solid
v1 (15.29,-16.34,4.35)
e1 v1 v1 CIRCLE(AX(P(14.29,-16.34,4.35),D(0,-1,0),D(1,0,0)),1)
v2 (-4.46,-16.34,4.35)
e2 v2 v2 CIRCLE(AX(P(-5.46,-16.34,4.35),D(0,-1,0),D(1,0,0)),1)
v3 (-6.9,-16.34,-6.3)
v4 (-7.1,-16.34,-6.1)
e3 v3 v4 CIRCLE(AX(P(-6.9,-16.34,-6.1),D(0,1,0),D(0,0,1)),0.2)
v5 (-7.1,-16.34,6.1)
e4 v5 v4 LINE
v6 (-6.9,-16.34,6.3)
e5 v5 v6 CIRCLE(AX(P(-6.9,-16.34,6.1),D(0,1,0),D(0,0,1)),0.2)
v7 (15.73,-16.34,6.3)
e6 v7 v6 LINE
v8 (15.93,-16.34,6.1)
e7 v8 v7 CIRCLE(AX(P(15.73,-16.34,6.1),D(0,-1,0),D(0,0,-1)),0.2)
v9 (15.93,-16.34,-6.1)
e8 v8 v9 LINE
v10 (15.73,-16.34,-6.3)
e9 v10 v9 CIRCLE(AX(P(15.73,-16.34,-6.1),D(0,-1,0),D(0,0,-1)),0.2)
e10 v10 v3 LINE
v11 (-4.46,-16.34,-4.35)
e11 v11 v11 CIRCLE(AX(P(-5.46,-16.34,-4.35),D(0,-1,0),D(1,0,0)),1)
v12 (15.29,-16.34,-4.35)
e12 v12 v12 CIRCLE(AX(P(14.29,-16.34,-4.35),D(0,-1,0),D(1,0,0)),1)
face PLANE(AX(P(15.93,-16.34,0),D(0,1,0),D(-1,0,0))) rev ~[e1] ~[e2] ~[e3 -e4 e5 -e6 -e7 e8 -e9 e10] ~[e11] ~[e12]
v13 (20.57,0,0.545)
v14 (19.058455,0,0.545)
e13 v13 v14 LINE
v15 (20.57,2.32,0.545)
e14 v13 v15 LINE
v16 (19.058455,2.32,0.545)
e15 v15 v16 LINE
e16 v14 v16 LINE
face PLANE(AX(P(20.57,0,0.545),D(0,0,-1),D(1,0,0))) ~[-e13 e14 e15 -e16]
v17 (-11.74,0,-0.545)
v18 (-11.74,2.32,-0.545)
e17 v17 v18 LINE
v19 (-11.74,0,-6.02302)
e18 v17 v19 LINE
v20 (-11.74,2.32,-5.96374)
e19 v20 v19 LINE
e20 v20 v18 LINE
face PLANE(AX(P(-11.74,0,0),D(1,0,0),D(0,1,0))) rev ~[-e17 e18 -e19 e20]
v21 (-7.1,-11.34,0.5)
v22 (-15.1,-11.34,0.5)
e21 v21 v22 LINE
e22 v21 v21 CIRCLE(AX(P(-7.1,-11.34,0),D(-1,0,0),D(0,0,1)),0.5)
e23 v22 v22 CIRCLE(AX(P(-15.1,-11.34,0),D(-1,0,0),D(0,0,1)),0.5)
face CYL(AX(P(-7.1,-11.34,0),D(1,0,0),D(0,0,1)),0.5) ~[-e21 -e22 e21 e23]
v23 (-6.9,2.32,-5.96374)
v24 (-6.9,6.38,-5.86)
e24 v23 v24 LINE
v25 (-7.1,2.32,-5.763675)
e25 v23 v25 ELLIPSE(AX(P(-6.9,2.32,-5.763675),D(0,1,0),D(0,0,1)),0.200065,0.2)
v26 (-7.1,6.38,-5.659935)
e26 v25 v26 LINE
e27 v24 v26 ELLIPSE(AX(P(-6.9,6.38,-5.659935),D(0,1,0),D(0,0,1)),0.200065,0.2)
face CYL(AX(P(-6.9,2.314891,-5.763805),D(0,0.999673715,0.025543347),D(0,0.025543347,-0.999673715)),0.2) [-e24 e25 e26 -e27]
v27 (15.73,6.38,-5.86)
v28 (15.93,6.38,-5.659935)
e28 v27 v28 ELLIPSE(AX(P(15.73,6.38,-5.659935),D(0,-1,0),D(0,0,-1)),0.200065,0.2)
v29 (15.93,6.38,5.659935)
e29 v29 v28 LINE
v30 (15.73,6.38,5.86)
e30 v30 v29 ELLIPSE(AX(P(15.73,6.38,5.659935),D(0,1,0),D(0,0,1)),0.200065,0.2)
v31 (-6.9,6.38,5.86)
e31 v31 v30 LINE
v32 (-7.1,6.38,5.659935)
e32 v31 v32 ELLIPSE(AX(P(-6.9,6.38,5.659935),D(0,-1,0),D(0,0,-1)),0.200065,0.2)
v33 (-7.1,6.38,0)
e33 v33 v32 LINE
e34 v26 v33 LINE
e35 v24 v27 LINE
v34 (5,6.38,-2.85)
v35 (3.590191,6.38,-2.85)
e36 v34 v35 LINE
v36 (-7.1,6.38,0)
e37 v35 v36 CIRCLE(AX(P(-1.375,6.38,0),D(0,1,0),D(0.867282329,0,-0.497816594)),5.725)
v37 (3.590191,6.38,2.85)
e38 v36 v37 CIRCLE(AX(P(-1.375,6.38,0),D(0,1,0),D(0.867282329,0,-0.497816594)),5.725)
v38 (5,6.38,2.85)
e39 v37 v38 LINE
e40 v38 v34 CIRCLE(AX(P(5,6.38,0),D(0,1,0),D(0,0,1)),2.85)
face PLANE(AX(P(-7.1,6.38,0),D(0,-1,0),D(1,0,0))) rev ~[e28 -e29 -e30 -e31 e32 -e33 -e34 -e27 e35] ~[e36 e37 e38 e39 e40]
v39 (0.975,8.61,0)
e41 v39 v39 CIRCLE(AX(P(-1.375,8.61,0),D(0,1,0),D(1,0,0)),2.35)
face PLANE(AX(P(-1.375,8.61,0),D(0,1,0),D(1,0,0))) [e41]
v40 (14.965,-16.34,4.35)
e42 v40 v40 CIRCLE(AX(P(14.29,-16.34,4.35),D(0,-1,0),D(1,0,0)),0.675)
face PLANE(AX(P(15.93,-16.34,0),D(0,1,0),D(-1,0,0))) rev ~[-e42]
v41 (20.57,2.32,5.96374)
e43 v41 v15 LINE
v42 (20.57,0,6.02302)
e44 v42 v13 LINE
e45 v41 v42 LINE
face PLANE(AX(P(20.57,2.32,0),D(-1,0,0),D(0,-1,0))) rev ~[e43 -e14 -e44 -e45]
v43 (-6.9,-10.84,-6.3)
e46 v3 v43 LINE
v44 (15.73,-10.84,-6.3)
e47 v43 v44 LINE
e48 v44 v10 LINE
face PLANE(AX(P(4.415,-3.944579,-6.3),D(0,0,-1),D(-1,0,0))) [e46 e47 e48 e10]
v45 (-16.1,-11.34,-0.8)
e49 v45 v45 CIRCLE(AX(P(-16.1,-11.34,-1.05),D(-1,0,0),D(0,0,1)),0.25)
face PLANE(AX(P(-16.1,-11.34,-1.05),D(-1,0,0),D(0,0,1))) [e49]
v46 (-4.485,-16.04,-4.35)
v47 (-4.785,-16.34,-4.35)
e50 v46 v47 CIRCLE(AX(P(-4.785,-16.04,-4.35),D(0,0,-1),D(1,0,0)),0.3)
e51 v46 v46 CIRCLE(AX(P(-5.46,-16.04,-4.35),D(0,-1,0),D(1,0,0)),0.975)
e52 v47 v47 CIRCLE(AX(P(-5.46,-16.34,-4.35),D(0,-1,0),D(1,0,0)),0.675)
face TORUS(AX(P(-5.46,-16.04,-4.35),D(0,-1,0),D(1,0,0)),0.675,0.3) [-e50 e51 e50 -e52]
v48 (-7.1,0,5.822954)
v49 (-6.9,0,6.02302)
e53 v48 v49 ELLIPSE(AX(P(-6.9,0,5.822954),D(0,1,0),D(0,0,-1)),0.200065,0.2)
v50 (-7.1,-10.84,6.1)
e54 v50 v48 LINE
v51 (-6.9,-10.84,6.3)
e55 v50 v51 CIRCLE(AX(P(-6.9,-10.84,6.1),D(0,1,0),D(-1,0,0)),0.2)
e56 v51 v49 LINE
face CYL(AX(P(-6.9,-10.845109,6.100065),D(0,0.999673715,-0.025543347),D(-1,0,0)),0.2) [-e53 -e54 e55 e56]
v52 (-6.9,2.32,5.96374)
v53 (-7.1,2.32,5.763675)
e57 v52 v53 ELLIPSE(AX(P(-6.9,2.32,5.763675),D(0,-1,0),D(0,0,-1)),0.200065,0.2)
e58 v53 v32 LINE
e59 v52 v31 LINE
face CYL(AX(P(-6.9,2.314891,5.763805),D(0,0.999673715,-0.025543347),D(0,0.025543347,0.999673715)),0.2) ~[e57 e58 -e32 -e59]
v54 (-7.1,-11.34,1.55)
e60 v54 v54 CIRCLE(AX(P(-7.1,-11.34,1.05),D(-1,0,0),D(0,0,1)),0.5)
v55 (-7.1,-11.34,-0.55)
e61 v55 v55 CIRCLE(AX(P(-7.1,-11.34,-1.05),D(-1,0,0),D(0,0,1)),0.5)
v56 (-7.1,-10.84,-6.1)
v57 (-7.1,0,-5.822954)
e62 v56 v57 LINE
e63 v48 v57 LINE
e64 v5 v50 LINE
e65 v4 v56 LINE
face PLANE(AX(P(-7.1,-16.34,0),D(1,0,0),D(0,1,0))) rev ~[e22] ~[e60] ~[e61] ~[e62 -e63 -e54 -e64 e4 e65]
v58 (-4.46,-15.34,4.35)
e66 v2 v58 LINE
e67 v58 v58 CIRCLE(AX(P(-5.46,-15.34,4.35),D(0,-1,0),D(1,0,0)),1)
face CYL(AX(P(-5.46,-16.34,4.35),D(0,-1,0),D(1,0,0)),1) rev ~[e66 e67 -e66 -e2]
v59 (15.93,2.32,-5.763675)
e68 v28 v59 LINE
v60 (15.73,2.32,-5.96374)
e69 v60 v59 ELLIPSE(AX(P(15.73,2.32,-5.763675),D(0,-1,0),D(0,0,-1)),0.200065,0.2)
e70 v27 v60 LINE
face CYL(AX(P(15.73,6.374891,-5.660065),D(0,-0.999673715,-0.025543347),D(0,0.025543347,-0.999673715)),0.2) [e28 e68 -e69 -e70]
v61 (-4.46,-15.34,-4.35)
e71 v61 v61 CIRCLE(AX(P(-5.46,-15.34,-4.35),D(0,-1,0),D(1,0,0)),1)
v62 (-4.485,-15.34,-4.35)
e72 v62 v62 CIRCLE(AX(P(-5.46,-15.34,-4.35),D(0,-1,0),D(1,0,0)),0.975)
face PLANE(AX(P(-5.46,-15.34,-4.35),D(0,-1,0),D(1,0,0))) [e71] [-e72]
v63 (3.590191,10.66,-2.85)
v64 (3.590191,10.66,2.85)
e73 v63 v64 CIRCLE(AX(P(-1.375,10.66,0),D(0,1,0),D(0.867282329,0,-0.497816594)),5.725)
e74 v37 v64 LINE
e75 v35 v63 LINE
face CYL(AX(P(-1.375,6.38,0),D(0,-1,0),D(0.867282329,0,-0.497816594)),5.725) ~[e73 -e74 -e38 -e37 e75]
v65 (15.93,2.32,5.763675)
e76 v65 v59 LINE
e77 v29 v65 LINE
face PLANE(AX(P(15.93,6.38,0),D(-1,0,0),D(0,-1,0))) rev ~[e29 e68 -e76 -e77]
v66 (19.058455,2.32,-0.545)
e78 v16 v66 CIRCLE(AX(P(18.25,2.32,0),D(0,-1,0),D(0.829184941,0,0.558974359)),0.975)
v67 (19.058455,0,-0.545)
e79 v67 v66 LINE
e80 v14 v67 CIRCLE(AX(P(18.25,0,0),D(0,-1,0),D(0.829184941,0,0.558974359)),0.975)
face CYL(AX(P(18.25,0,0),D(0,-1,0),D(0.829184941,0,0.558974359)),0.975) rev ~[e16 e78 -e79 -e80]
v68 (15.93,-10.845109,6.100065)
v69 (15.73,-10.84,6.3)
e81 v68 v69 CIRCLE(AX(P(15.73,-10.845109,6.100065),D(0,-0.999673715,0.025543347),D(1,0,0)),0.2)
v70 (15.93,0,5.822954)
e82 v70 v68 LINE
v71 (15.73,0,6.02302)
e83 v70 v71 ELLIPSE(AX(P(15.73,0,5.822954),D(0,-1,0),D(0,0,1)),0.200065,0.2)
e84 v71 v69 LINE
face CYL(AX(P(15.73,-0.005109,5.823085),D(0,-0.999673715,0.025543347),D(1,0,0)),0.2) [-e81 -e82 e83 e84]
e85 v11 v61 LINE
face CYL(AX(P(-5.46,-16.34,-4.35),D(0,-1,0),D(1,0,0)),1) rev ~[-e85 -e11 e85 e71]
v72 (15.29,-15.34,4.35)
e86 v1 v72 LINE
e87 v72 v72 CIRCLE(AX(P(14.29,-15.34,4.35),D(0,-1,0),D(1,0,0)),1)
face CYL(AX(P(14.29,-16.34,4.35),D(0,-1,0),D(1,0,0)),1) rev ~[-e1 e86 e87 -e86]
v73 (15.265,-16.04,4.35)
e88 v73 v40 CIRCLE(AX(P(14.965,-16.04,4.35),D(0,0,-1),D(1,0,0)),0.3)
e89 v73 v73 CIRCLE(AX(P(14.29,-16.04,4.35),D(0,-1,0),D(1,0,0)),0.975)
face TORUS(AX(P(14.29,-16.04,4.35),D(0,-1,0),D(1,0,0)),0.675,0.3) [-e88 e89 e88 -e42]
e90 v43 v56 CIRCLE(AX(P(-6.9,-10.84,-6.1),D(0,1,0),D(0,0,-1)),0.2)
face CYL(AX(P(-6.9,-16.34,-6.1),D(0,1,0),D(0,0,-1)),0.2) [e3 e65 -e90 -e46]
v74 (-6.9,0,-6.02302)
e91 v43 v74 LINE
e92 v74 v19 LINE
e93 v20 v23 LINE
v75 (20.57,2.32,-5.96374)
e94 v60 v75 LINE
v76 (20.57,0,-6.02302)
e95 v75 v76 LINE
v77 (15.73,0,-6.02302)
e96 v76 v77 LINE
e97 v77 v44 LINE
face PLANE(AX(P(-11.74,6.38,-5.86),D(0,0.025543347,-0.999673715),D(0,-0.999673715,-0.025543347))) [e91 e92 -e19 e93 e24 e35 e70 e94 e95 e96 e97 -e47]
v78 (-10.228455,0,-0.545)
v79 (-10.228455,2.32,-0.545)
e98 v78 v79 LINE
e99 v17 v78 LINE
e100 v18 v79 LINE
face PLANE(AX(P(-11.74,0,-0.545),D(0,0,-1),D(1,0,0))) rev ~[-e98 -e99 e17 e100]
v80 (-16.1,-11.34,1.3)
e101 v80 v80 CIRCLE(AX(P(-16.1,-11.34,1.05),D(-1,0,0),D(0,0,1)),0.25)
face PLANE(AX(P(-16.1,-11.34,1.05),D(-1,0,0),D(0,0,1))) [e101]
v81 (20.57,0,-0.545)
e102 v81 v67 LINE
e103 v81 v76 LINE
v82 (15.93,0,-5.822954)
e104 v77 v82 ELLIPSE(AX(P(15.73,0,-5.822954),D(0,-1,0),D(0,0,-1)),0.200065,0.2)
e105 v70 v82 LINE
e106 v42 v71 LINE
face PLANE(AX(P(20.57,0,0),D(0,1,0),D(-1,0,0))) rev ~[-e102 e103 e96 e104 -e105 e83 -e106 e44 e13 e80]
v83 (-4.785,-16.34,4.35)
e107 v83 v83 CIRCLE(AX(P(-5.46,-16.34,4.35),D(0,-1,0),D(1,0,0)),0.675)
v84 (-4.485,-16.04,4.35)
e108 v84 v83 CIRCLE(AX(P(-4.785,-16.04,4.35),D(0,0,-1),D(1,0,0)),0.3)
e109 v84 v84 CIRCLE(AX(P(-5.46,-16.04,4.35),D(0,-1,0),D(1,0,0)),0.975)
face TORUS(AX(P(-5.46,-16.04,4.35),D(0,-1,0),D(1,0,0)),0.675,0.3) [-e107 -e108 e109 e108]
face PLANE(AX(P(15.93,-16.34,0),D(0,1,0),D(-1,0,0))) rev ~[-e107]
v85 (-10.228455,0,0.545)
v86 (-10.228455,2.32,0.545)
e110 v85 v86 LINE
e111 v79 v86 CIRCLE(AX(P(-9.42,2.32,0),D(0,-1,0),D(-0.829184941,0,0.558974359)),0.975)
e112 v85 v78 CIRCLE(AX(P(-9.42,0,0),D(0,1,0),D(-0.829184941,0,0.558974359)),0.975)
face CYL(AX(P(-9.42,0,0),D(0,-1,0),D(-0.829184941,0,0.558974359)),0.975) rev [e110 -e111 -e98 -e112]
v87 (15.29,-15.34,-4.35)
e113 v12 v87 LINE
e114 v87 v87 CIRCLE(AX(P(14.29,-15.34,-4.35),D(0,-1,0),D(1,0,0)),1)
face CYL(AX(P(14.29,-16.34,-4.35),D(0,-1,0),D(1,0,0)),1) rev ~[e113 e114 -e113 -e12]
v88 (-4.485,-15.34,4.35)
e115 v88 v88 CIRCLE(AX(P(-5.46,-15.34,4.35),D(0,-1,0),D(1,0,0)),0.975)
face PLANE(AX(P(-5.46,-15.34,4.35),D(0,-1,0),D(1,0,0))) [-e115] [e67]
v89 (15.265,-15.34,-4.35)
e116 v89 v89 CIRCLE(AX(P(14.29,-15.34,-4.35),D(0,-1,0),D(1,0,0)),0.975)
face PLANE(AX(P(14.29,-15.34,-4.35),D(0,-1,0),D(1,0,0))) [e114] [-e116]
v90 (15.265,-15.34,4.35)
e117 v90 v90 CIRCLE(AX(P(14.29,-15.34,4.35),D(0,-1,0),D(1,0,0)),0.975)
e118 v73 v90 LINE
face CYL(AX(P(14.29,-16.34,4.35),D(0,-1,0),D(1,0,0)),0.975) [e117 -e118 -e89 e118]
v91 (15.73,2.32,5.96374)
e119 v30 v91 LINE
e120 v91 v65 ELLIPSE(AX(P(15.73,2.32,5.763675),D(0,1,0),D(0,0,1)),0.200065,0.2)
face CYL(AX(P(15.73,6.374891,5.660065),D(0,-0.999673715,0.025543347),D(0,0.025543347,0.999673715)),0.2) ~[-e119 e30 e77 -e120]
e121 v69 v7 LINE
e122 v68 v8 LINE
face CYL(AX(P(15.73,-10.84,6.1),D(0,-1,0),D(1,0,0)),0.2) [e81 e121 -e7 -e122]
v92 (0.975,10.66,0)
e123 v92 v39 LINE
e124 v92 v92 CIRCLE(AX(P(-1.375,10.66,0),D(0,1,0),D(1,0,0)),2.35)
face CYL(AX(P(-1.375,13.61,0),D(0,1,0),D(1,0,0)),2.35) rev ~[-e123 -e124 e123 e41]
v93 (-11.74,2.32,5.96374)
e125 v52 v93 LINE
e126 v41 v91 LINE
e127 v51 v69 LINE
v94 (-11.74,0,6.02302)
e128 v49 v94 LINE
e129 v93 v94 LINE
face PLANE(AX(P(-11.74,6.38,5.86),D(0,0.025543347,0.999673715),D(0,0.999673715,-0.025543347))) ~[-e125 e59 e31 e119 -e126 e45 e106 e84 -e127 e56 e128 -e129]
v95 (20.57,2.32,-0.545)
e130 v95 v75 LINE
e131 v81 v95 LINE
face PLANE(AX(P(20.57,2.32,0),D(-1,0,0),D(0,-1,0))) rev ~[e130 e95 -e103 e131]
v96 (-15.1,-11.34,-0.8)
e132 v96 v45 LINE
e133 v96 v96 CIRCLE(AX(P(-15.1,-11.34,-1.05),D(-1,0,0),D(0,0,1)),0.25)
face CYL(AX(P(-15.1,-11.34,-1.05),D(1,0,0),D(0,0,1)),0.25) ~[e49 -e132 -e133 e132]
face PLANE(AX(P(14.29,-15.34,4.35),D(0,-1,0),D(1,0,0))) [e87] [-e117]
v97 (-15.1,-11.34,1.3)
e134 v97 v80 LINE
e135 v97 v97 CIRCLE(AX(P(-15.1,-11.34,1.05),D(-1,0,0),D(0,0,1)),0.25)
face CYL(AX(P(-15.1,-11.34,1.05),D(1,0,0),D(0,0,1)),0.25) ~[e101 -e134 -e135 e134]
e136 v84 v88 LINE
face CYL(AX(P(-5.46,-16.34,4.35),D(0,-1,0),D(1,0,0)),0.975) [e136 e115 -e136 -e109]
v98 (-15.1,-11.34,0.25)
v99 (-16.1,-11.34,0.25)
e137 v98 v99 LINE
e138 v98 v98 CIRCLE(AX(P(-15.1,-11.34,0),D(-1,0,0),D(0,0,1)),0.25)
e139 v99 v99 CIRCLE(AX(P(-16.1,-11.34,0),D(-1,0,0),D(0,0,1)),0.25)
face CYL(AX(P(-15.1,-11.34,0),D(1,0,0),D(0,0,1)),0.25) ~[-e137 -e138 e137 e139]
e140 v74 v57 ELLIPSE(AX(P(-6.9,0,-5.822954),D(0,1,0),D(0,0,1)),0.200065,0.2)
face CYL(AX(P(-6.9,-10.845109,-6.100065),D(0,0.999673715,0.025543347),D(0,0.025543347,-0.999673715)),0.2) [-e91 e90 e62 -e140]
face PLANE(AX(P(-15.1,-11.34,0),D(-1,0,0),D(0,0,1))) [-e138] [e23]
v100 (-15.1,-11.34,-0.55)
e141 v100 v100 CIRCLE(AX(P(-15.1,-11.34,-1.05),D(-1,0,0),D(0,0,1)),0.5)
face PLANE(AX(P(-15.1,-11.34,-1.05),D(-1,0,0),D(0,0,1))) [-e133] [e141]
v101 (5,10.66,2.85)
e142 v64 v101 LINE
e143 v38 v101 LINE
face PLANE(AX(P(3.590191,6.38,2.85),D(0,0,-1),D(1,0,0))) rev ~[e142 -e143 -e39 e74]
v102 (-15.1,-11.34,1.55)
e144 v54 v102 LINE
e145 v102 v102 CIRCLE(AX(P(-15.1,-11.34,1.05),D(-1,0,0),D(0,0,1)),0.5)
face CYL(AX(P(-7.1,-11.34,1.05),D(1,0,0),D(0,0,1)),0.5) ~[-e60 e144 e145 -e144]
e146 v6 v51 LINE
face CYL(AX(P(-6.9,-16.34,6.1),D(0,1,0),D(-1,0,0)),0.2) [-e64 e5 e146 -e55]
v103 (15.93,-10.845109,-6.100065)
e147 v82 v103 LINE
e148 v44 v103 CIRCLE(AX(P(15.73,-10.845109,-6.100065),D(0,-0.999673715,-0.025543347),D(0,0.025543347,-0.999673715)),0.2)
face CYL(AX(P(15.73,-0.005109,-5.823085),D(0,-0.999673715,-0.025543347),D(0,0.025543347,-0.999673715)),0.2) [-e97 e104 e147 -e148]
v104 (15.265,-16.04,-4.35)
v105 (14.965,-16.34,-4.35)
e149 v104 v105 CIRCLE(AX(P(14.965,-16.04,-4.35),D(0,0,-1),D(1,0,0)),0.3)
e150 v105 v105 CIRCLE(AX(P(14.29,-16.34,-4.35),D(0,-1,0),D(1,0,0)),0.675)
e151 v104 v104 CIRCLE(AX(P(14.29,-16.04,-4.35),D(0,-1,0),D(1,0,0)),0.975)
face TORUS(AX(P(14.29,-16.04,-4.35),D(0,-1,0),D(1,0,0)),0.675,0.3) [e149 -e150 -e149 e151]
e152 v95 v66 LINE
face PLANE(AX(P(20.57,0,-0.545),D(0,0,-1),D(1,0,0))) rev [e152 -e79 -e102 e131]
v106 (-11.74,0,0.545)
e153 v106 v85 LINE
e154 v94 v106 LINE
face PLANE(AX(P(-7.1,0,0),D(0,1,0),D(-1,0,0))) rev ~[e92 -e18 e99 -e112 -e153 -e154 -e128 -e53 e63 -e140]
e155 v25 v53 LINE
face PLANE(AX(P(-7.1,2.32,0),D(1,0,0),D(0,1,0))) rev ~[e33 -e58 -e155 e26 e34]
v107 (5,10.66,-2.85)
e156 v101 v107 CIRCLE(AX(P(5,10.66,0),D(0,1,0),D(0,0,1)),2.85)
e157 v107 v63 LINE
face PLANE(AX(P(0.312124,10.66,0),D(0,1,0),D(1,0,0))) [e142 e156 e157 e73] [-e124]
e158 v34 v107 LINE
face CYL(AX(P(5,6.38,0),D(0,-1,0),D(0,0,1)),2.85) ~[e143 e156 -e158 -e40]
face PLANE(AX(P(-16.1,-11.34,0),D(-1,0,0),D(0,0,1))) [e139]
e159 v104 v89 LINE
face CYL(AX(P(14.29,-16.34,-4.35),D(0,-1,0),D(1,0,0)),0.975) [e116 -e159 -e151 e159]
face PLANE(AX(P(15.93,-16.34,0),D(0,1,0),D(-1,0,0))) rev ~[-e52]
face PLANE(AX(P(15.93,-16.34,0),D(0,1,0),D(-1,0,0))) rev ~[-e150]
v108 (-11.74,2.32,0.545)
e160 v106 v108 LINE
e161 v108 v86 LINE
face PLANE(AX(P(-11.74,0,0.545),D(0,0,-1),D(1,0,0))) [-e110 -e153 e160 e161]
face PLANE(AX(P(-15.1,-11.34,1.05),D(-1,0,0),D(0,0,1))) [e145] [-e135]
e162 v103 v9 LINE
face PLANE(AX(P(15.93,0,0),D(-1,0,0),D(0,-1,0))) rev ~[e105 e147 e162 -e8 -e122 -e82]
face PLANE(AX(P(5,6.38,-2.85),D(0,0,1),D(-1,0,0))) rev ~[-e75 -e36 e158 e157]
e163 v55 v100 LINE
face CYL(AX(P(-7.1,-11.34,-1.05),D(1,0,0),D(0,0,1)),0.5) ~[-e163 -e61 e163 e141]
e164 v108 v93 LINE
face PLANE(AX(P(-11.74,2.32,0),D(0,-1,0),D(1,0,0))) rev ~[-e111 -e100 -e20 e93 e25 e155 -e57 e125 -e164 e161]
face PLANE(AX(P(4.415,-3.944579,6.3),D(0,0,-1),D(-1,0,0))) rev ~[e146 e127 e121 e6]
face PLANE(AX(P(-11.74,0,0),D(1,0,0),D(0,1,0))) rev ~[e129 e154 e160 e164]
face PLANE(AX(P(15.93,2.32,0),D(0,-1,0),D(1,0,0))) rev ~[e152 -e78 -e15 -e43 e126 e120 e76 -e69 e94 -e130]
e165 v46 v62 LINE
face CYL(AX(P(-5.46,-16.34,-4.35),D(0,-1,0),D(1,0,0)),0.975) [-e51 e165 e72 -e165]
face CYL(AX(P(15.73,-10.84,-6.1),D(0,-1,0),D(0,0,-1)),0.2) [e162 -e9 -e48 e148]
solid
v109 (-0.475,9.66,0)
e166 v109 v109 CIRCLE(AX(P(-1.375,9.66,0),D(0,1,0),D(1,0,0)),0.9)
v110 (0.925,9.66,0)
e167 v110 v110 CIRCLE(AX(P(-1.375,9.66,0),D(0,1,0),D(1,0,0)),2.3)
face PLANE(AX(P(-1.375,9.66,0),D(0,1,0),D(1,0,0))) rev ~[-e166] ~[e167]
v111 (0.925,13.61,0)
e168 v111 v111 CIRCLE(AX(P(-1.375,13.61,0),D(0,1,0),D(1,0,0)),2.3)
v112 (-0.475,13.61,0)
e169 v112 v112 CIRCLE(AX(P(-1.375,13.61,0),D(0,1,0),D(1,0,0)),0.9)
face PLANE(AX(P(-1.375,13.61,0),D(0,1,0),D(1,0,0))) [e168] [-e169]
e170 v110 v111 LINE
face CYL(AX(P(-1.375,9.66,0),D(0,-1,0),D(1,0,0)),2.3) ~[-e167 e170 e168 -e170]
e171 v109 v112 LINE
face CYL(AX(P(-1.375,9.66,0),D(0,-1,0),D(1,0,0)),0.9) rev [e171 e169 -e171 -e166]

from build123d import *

# Parameters (mm, degrees)
BOSS_EXTRUDE1_DEPTH      = 6.3
BOSS_EXTRUDE2_DEPTH      = 4.28
CUT_EXTRUDE4_DEPTH       = 37.750805433
SKETCH4_R                = 0.975
SKETCH4_W                = 1.511544683
SKETCH4_H                = 1.09
CUT_EXTRUDE1_DEPTH       = 28.01500509
SKETCH5_R                = 1
SKETCH5_R_2              = 0.975
CUT_EXTRUDE2_DEPTH       = 1
SKETCH6_R                = 0.5
BOSS_EXTRUDE4_DEPTH      = 8
SKETCH7_R                = 0.25
BOSS_EXTRUDE5_DEPTH      = 1
FILLET1_R                = 0.3
FILLET3_R                = 0.2
BOSS_EXTRUDE6_DEPTH      = 2.95
BOSS_EXTRUDE6_DEPTH_BACK = 1
SKETCH12_R               = 2.3
SKETCH12_R_2             = 0.9
SKETCH13_R               = 2.35
CUT_EXTRUDE5_DEPTH       = 5


with BuildPart() as part:
    # Sketch1 → Boss-Extrude1 (new, symmetric)
    with BuildSketch(Plane.XY):
        Polygon((-7.1, 6.38), (15.93, 6.38), (15.93, 2.32), (20.57, 2.32), (20.57, 0), (15.93, 0), (15.93, -16.34), (-7.1, -16.34), (-7.1, 0), (-11.74, 0), (-11.74, 2.32), (-7.1, 2.32), align=None)
    extrude(amount=BOSS_EXTRUDE1_DEPTH, both=True)

    # Sketch2 → Boss-Extrude2 (add)
    with BuildSketch(Plane(origin=(0, 6.38, 0), x_dir=(1, 0, 0), z_dir=(0, 1, 0))):
        with BuildLine():
            Line((3.590191336, -2.85), (5, -2.85))
            ThreePointArc((5, -2.85), (7.85, 0), (5, 2.85))
            Line((5, 2.85), (3.590191336, 2.85))
            ThreePointArc((3.590191336, 2.85), (-7.1, 0), (3.590191336, -2.85))
        make_face()
    extrude(amount=BOSS_EXTRUDE2_DEPTH)

    # Sketch11 → Cut-Extrude4 (cut, through all)
    with BuildSketch(Plane.ZY.offset(11.74)):
        Polygon((-5.86, 6.38), (-6.3, -10.84), (-6.3, 6.38), align=None)
    cut_extrude4 = extrude(amount=-CUT_EXTRUDE4_DEPTH, mode=Mode.SUBTRACT)

    # Mirror1: Cut-Extrude4 across plane
    add(cut_extrude4.mirror(Plane.XY), mode=Mode.SUBTRACT)

    # Sketch4 → Cut-Extrude1 (cut, through all)
    with BuildSketch(Plane(origin=(0, 0, 0), x_dir=(1, 0, 0), z_dir=(0, 1, 0))):
        with Locations((-9.42, 0)):
            Circle(SKETCH4_R)
        with Locations((-10.984227659, 0)):
            Rectangle(SKETCH4_W, SKETCH4_H)
    cut_extrude1 = extrude(amount=CUT_EXTRUDE1_DEPTH, mode=Mode.SUBTRACT)

    # Mirror2: Cut-Extrude1 across plane
    add(cut_extrude1.mirror(Plane(origin=(4.415, -10.84, 6.3), x_dir=(0, 0, 1), z_dir=(-1, 0, 0))), mode=Mode.SUBTRACT)

    # Sketch5 → Cut-Extrude2 (cut)
    # profile 1 of 4: a face of its own
    with BuildSketch(Plane.XZ.offset(16.34)):
        with Locations((-5.46, 4.35)):
            Circle(SKETCH5_R)
        with Locations((-5.46, 4.35)):
            Circle(SKETCH5_R_2, mode=Mode.SUBTRACT)
    # profile 2 of 4: a face of its own
    with BuildSketch(Plane.XZ.offset(16.34)):
        with Locations((-5.46, -4.35)):
            Circle(SKETCH5_R)
        with Locations((-5.46, -4.35)):
            Circle(SKETCH5_R_2, mode=Mode.SUBTRACT)
    # profile 3 of 4: a face of its own
    with BuildSketch(Plane.XZ.offset(16.34)):
        with Locations((14.29, -4.35)):
            Circle(SKETCH5_R)
        with Locations((14.29, -4.35)):
            Circle(SKETCH5_R_2, mode=Mode.SUBTRACT)
    # profile 4 of 4: a face of its own
    with BuildSketch(Plane.XZ.offset(16.34)):
        with Locations((14.29, 4.35)):
            Circle(SKETCH5_R)
        with Locations((14.29, 4.35)):
            Circle(SKETCH5_R_2, mode=Mode.SUBTRACT)
    extrude(amount=-CUT_EXTRUDE2_DEPTH, mode=Mode.SUBTRACT)

    # Sketch6 → Boss-Extrude4 (add)
    with BuildSketch(Plane.ZY.offset(7.1)):
        with Locations((0, -11.34)):
            Circle(SKETCH6_R)
        with Locations((1.05, -11.34)):
            Circle(SKETCH6_R)
        with Locations((-1.05, -11.34)):
            Circle(SKETCH6_R)
    extrude(amount=BOSS_EXTRUDE4_DEPTH)

    # Sketch7 → Boss-Extrude5 (add)
    with BuildSketch(Plane.ZY.offset(15.1)):
        with Locations((0, -11.34)):
            Circle(SKETCH7_R)
        with Locations((1.05, -11.34)):
            Circle(SKETCH7_R)
        with Locations((-1.05, -11.34)):
            Circle(SKETCH7_R)
    extrude(amount=BOSS_EXTRUDE5_DEPTH)

    # Fillet1
    fillet1_edges = [part.edges().sort_by_distance(p)[0] for p in [
        (13.315, -16.34, -4.35),
        (13.315, -16.34, 4.35),
        (-6.435, -16.34, -4.35),
        (-6.435, -16.34, 4.35),
    ]]
    fillet(fillet1_edges, radius=FILLET1_R)

    # Fillet3
    fillet3_edges = [part.edges().sort_by_distance(p)[0] for p in [
        (15.93, -13.59, -6.3),
        (15.93, -13.59, 6.3),
        (-7.1, -13.59, -6.3),
        (-7.1, -13.59, 6.3),
        (-7.1, -5.42, 6.161509872),
        (-7.1, -5.42, -6.161509872),
        (15.93, -5.42, 6.161509872),
        (15.93, -5.42, -6.161509872),
        (15.93, 4.35, -5.911869919),
        (15.93, 4.35, 5.911869919),
        (-7.1, 4.35, -5.911869919),
        (-7.1, 4.35, 5.911869919),
    ]]
    fillet(fillet3_edges, radius=FILLET3_R)

    # Sketch13 → Cut-Extrude5 (cut)
    with BuildSketch(Plane(origin=(0, 13.61, 0), x_dir=(1, 0, 0), z_dir=(0, 1, 0))):
        with Locations((-1.375, 0)):
            Circle(SKETCH13_R)
    extrude(amount=-CUT_EXTRUDE5_DEPTH, mode=Mode.SUBTRACT)


with BuildPart() as body_2:
    # Sketch12 → Boss-Extrude6 (new, two sides: drawn at the far end of the back side and taken through both)
    with BuildSketch(Plane(origin=(0, 10.66, 0), x_dir=(1, 0, 0), z_dir=(0, 1, 0)).offset(-BOSS_EXTRUDE6_DEPTH_BACK)):
        with Locations((-1.375, 0)):
            Circle(SKETCH12_R)
        with Locations((-1.375, 0)):
            Circle(SKETCH12_R_2, mode=Mode.SUBTRACT)
    extrude(amount=BOSS_EXTRUDE6_DEPTH + BOSS_EXTRUDE6_DEPTH_BACK)


solid = Compound([part.part, body_2.part])
